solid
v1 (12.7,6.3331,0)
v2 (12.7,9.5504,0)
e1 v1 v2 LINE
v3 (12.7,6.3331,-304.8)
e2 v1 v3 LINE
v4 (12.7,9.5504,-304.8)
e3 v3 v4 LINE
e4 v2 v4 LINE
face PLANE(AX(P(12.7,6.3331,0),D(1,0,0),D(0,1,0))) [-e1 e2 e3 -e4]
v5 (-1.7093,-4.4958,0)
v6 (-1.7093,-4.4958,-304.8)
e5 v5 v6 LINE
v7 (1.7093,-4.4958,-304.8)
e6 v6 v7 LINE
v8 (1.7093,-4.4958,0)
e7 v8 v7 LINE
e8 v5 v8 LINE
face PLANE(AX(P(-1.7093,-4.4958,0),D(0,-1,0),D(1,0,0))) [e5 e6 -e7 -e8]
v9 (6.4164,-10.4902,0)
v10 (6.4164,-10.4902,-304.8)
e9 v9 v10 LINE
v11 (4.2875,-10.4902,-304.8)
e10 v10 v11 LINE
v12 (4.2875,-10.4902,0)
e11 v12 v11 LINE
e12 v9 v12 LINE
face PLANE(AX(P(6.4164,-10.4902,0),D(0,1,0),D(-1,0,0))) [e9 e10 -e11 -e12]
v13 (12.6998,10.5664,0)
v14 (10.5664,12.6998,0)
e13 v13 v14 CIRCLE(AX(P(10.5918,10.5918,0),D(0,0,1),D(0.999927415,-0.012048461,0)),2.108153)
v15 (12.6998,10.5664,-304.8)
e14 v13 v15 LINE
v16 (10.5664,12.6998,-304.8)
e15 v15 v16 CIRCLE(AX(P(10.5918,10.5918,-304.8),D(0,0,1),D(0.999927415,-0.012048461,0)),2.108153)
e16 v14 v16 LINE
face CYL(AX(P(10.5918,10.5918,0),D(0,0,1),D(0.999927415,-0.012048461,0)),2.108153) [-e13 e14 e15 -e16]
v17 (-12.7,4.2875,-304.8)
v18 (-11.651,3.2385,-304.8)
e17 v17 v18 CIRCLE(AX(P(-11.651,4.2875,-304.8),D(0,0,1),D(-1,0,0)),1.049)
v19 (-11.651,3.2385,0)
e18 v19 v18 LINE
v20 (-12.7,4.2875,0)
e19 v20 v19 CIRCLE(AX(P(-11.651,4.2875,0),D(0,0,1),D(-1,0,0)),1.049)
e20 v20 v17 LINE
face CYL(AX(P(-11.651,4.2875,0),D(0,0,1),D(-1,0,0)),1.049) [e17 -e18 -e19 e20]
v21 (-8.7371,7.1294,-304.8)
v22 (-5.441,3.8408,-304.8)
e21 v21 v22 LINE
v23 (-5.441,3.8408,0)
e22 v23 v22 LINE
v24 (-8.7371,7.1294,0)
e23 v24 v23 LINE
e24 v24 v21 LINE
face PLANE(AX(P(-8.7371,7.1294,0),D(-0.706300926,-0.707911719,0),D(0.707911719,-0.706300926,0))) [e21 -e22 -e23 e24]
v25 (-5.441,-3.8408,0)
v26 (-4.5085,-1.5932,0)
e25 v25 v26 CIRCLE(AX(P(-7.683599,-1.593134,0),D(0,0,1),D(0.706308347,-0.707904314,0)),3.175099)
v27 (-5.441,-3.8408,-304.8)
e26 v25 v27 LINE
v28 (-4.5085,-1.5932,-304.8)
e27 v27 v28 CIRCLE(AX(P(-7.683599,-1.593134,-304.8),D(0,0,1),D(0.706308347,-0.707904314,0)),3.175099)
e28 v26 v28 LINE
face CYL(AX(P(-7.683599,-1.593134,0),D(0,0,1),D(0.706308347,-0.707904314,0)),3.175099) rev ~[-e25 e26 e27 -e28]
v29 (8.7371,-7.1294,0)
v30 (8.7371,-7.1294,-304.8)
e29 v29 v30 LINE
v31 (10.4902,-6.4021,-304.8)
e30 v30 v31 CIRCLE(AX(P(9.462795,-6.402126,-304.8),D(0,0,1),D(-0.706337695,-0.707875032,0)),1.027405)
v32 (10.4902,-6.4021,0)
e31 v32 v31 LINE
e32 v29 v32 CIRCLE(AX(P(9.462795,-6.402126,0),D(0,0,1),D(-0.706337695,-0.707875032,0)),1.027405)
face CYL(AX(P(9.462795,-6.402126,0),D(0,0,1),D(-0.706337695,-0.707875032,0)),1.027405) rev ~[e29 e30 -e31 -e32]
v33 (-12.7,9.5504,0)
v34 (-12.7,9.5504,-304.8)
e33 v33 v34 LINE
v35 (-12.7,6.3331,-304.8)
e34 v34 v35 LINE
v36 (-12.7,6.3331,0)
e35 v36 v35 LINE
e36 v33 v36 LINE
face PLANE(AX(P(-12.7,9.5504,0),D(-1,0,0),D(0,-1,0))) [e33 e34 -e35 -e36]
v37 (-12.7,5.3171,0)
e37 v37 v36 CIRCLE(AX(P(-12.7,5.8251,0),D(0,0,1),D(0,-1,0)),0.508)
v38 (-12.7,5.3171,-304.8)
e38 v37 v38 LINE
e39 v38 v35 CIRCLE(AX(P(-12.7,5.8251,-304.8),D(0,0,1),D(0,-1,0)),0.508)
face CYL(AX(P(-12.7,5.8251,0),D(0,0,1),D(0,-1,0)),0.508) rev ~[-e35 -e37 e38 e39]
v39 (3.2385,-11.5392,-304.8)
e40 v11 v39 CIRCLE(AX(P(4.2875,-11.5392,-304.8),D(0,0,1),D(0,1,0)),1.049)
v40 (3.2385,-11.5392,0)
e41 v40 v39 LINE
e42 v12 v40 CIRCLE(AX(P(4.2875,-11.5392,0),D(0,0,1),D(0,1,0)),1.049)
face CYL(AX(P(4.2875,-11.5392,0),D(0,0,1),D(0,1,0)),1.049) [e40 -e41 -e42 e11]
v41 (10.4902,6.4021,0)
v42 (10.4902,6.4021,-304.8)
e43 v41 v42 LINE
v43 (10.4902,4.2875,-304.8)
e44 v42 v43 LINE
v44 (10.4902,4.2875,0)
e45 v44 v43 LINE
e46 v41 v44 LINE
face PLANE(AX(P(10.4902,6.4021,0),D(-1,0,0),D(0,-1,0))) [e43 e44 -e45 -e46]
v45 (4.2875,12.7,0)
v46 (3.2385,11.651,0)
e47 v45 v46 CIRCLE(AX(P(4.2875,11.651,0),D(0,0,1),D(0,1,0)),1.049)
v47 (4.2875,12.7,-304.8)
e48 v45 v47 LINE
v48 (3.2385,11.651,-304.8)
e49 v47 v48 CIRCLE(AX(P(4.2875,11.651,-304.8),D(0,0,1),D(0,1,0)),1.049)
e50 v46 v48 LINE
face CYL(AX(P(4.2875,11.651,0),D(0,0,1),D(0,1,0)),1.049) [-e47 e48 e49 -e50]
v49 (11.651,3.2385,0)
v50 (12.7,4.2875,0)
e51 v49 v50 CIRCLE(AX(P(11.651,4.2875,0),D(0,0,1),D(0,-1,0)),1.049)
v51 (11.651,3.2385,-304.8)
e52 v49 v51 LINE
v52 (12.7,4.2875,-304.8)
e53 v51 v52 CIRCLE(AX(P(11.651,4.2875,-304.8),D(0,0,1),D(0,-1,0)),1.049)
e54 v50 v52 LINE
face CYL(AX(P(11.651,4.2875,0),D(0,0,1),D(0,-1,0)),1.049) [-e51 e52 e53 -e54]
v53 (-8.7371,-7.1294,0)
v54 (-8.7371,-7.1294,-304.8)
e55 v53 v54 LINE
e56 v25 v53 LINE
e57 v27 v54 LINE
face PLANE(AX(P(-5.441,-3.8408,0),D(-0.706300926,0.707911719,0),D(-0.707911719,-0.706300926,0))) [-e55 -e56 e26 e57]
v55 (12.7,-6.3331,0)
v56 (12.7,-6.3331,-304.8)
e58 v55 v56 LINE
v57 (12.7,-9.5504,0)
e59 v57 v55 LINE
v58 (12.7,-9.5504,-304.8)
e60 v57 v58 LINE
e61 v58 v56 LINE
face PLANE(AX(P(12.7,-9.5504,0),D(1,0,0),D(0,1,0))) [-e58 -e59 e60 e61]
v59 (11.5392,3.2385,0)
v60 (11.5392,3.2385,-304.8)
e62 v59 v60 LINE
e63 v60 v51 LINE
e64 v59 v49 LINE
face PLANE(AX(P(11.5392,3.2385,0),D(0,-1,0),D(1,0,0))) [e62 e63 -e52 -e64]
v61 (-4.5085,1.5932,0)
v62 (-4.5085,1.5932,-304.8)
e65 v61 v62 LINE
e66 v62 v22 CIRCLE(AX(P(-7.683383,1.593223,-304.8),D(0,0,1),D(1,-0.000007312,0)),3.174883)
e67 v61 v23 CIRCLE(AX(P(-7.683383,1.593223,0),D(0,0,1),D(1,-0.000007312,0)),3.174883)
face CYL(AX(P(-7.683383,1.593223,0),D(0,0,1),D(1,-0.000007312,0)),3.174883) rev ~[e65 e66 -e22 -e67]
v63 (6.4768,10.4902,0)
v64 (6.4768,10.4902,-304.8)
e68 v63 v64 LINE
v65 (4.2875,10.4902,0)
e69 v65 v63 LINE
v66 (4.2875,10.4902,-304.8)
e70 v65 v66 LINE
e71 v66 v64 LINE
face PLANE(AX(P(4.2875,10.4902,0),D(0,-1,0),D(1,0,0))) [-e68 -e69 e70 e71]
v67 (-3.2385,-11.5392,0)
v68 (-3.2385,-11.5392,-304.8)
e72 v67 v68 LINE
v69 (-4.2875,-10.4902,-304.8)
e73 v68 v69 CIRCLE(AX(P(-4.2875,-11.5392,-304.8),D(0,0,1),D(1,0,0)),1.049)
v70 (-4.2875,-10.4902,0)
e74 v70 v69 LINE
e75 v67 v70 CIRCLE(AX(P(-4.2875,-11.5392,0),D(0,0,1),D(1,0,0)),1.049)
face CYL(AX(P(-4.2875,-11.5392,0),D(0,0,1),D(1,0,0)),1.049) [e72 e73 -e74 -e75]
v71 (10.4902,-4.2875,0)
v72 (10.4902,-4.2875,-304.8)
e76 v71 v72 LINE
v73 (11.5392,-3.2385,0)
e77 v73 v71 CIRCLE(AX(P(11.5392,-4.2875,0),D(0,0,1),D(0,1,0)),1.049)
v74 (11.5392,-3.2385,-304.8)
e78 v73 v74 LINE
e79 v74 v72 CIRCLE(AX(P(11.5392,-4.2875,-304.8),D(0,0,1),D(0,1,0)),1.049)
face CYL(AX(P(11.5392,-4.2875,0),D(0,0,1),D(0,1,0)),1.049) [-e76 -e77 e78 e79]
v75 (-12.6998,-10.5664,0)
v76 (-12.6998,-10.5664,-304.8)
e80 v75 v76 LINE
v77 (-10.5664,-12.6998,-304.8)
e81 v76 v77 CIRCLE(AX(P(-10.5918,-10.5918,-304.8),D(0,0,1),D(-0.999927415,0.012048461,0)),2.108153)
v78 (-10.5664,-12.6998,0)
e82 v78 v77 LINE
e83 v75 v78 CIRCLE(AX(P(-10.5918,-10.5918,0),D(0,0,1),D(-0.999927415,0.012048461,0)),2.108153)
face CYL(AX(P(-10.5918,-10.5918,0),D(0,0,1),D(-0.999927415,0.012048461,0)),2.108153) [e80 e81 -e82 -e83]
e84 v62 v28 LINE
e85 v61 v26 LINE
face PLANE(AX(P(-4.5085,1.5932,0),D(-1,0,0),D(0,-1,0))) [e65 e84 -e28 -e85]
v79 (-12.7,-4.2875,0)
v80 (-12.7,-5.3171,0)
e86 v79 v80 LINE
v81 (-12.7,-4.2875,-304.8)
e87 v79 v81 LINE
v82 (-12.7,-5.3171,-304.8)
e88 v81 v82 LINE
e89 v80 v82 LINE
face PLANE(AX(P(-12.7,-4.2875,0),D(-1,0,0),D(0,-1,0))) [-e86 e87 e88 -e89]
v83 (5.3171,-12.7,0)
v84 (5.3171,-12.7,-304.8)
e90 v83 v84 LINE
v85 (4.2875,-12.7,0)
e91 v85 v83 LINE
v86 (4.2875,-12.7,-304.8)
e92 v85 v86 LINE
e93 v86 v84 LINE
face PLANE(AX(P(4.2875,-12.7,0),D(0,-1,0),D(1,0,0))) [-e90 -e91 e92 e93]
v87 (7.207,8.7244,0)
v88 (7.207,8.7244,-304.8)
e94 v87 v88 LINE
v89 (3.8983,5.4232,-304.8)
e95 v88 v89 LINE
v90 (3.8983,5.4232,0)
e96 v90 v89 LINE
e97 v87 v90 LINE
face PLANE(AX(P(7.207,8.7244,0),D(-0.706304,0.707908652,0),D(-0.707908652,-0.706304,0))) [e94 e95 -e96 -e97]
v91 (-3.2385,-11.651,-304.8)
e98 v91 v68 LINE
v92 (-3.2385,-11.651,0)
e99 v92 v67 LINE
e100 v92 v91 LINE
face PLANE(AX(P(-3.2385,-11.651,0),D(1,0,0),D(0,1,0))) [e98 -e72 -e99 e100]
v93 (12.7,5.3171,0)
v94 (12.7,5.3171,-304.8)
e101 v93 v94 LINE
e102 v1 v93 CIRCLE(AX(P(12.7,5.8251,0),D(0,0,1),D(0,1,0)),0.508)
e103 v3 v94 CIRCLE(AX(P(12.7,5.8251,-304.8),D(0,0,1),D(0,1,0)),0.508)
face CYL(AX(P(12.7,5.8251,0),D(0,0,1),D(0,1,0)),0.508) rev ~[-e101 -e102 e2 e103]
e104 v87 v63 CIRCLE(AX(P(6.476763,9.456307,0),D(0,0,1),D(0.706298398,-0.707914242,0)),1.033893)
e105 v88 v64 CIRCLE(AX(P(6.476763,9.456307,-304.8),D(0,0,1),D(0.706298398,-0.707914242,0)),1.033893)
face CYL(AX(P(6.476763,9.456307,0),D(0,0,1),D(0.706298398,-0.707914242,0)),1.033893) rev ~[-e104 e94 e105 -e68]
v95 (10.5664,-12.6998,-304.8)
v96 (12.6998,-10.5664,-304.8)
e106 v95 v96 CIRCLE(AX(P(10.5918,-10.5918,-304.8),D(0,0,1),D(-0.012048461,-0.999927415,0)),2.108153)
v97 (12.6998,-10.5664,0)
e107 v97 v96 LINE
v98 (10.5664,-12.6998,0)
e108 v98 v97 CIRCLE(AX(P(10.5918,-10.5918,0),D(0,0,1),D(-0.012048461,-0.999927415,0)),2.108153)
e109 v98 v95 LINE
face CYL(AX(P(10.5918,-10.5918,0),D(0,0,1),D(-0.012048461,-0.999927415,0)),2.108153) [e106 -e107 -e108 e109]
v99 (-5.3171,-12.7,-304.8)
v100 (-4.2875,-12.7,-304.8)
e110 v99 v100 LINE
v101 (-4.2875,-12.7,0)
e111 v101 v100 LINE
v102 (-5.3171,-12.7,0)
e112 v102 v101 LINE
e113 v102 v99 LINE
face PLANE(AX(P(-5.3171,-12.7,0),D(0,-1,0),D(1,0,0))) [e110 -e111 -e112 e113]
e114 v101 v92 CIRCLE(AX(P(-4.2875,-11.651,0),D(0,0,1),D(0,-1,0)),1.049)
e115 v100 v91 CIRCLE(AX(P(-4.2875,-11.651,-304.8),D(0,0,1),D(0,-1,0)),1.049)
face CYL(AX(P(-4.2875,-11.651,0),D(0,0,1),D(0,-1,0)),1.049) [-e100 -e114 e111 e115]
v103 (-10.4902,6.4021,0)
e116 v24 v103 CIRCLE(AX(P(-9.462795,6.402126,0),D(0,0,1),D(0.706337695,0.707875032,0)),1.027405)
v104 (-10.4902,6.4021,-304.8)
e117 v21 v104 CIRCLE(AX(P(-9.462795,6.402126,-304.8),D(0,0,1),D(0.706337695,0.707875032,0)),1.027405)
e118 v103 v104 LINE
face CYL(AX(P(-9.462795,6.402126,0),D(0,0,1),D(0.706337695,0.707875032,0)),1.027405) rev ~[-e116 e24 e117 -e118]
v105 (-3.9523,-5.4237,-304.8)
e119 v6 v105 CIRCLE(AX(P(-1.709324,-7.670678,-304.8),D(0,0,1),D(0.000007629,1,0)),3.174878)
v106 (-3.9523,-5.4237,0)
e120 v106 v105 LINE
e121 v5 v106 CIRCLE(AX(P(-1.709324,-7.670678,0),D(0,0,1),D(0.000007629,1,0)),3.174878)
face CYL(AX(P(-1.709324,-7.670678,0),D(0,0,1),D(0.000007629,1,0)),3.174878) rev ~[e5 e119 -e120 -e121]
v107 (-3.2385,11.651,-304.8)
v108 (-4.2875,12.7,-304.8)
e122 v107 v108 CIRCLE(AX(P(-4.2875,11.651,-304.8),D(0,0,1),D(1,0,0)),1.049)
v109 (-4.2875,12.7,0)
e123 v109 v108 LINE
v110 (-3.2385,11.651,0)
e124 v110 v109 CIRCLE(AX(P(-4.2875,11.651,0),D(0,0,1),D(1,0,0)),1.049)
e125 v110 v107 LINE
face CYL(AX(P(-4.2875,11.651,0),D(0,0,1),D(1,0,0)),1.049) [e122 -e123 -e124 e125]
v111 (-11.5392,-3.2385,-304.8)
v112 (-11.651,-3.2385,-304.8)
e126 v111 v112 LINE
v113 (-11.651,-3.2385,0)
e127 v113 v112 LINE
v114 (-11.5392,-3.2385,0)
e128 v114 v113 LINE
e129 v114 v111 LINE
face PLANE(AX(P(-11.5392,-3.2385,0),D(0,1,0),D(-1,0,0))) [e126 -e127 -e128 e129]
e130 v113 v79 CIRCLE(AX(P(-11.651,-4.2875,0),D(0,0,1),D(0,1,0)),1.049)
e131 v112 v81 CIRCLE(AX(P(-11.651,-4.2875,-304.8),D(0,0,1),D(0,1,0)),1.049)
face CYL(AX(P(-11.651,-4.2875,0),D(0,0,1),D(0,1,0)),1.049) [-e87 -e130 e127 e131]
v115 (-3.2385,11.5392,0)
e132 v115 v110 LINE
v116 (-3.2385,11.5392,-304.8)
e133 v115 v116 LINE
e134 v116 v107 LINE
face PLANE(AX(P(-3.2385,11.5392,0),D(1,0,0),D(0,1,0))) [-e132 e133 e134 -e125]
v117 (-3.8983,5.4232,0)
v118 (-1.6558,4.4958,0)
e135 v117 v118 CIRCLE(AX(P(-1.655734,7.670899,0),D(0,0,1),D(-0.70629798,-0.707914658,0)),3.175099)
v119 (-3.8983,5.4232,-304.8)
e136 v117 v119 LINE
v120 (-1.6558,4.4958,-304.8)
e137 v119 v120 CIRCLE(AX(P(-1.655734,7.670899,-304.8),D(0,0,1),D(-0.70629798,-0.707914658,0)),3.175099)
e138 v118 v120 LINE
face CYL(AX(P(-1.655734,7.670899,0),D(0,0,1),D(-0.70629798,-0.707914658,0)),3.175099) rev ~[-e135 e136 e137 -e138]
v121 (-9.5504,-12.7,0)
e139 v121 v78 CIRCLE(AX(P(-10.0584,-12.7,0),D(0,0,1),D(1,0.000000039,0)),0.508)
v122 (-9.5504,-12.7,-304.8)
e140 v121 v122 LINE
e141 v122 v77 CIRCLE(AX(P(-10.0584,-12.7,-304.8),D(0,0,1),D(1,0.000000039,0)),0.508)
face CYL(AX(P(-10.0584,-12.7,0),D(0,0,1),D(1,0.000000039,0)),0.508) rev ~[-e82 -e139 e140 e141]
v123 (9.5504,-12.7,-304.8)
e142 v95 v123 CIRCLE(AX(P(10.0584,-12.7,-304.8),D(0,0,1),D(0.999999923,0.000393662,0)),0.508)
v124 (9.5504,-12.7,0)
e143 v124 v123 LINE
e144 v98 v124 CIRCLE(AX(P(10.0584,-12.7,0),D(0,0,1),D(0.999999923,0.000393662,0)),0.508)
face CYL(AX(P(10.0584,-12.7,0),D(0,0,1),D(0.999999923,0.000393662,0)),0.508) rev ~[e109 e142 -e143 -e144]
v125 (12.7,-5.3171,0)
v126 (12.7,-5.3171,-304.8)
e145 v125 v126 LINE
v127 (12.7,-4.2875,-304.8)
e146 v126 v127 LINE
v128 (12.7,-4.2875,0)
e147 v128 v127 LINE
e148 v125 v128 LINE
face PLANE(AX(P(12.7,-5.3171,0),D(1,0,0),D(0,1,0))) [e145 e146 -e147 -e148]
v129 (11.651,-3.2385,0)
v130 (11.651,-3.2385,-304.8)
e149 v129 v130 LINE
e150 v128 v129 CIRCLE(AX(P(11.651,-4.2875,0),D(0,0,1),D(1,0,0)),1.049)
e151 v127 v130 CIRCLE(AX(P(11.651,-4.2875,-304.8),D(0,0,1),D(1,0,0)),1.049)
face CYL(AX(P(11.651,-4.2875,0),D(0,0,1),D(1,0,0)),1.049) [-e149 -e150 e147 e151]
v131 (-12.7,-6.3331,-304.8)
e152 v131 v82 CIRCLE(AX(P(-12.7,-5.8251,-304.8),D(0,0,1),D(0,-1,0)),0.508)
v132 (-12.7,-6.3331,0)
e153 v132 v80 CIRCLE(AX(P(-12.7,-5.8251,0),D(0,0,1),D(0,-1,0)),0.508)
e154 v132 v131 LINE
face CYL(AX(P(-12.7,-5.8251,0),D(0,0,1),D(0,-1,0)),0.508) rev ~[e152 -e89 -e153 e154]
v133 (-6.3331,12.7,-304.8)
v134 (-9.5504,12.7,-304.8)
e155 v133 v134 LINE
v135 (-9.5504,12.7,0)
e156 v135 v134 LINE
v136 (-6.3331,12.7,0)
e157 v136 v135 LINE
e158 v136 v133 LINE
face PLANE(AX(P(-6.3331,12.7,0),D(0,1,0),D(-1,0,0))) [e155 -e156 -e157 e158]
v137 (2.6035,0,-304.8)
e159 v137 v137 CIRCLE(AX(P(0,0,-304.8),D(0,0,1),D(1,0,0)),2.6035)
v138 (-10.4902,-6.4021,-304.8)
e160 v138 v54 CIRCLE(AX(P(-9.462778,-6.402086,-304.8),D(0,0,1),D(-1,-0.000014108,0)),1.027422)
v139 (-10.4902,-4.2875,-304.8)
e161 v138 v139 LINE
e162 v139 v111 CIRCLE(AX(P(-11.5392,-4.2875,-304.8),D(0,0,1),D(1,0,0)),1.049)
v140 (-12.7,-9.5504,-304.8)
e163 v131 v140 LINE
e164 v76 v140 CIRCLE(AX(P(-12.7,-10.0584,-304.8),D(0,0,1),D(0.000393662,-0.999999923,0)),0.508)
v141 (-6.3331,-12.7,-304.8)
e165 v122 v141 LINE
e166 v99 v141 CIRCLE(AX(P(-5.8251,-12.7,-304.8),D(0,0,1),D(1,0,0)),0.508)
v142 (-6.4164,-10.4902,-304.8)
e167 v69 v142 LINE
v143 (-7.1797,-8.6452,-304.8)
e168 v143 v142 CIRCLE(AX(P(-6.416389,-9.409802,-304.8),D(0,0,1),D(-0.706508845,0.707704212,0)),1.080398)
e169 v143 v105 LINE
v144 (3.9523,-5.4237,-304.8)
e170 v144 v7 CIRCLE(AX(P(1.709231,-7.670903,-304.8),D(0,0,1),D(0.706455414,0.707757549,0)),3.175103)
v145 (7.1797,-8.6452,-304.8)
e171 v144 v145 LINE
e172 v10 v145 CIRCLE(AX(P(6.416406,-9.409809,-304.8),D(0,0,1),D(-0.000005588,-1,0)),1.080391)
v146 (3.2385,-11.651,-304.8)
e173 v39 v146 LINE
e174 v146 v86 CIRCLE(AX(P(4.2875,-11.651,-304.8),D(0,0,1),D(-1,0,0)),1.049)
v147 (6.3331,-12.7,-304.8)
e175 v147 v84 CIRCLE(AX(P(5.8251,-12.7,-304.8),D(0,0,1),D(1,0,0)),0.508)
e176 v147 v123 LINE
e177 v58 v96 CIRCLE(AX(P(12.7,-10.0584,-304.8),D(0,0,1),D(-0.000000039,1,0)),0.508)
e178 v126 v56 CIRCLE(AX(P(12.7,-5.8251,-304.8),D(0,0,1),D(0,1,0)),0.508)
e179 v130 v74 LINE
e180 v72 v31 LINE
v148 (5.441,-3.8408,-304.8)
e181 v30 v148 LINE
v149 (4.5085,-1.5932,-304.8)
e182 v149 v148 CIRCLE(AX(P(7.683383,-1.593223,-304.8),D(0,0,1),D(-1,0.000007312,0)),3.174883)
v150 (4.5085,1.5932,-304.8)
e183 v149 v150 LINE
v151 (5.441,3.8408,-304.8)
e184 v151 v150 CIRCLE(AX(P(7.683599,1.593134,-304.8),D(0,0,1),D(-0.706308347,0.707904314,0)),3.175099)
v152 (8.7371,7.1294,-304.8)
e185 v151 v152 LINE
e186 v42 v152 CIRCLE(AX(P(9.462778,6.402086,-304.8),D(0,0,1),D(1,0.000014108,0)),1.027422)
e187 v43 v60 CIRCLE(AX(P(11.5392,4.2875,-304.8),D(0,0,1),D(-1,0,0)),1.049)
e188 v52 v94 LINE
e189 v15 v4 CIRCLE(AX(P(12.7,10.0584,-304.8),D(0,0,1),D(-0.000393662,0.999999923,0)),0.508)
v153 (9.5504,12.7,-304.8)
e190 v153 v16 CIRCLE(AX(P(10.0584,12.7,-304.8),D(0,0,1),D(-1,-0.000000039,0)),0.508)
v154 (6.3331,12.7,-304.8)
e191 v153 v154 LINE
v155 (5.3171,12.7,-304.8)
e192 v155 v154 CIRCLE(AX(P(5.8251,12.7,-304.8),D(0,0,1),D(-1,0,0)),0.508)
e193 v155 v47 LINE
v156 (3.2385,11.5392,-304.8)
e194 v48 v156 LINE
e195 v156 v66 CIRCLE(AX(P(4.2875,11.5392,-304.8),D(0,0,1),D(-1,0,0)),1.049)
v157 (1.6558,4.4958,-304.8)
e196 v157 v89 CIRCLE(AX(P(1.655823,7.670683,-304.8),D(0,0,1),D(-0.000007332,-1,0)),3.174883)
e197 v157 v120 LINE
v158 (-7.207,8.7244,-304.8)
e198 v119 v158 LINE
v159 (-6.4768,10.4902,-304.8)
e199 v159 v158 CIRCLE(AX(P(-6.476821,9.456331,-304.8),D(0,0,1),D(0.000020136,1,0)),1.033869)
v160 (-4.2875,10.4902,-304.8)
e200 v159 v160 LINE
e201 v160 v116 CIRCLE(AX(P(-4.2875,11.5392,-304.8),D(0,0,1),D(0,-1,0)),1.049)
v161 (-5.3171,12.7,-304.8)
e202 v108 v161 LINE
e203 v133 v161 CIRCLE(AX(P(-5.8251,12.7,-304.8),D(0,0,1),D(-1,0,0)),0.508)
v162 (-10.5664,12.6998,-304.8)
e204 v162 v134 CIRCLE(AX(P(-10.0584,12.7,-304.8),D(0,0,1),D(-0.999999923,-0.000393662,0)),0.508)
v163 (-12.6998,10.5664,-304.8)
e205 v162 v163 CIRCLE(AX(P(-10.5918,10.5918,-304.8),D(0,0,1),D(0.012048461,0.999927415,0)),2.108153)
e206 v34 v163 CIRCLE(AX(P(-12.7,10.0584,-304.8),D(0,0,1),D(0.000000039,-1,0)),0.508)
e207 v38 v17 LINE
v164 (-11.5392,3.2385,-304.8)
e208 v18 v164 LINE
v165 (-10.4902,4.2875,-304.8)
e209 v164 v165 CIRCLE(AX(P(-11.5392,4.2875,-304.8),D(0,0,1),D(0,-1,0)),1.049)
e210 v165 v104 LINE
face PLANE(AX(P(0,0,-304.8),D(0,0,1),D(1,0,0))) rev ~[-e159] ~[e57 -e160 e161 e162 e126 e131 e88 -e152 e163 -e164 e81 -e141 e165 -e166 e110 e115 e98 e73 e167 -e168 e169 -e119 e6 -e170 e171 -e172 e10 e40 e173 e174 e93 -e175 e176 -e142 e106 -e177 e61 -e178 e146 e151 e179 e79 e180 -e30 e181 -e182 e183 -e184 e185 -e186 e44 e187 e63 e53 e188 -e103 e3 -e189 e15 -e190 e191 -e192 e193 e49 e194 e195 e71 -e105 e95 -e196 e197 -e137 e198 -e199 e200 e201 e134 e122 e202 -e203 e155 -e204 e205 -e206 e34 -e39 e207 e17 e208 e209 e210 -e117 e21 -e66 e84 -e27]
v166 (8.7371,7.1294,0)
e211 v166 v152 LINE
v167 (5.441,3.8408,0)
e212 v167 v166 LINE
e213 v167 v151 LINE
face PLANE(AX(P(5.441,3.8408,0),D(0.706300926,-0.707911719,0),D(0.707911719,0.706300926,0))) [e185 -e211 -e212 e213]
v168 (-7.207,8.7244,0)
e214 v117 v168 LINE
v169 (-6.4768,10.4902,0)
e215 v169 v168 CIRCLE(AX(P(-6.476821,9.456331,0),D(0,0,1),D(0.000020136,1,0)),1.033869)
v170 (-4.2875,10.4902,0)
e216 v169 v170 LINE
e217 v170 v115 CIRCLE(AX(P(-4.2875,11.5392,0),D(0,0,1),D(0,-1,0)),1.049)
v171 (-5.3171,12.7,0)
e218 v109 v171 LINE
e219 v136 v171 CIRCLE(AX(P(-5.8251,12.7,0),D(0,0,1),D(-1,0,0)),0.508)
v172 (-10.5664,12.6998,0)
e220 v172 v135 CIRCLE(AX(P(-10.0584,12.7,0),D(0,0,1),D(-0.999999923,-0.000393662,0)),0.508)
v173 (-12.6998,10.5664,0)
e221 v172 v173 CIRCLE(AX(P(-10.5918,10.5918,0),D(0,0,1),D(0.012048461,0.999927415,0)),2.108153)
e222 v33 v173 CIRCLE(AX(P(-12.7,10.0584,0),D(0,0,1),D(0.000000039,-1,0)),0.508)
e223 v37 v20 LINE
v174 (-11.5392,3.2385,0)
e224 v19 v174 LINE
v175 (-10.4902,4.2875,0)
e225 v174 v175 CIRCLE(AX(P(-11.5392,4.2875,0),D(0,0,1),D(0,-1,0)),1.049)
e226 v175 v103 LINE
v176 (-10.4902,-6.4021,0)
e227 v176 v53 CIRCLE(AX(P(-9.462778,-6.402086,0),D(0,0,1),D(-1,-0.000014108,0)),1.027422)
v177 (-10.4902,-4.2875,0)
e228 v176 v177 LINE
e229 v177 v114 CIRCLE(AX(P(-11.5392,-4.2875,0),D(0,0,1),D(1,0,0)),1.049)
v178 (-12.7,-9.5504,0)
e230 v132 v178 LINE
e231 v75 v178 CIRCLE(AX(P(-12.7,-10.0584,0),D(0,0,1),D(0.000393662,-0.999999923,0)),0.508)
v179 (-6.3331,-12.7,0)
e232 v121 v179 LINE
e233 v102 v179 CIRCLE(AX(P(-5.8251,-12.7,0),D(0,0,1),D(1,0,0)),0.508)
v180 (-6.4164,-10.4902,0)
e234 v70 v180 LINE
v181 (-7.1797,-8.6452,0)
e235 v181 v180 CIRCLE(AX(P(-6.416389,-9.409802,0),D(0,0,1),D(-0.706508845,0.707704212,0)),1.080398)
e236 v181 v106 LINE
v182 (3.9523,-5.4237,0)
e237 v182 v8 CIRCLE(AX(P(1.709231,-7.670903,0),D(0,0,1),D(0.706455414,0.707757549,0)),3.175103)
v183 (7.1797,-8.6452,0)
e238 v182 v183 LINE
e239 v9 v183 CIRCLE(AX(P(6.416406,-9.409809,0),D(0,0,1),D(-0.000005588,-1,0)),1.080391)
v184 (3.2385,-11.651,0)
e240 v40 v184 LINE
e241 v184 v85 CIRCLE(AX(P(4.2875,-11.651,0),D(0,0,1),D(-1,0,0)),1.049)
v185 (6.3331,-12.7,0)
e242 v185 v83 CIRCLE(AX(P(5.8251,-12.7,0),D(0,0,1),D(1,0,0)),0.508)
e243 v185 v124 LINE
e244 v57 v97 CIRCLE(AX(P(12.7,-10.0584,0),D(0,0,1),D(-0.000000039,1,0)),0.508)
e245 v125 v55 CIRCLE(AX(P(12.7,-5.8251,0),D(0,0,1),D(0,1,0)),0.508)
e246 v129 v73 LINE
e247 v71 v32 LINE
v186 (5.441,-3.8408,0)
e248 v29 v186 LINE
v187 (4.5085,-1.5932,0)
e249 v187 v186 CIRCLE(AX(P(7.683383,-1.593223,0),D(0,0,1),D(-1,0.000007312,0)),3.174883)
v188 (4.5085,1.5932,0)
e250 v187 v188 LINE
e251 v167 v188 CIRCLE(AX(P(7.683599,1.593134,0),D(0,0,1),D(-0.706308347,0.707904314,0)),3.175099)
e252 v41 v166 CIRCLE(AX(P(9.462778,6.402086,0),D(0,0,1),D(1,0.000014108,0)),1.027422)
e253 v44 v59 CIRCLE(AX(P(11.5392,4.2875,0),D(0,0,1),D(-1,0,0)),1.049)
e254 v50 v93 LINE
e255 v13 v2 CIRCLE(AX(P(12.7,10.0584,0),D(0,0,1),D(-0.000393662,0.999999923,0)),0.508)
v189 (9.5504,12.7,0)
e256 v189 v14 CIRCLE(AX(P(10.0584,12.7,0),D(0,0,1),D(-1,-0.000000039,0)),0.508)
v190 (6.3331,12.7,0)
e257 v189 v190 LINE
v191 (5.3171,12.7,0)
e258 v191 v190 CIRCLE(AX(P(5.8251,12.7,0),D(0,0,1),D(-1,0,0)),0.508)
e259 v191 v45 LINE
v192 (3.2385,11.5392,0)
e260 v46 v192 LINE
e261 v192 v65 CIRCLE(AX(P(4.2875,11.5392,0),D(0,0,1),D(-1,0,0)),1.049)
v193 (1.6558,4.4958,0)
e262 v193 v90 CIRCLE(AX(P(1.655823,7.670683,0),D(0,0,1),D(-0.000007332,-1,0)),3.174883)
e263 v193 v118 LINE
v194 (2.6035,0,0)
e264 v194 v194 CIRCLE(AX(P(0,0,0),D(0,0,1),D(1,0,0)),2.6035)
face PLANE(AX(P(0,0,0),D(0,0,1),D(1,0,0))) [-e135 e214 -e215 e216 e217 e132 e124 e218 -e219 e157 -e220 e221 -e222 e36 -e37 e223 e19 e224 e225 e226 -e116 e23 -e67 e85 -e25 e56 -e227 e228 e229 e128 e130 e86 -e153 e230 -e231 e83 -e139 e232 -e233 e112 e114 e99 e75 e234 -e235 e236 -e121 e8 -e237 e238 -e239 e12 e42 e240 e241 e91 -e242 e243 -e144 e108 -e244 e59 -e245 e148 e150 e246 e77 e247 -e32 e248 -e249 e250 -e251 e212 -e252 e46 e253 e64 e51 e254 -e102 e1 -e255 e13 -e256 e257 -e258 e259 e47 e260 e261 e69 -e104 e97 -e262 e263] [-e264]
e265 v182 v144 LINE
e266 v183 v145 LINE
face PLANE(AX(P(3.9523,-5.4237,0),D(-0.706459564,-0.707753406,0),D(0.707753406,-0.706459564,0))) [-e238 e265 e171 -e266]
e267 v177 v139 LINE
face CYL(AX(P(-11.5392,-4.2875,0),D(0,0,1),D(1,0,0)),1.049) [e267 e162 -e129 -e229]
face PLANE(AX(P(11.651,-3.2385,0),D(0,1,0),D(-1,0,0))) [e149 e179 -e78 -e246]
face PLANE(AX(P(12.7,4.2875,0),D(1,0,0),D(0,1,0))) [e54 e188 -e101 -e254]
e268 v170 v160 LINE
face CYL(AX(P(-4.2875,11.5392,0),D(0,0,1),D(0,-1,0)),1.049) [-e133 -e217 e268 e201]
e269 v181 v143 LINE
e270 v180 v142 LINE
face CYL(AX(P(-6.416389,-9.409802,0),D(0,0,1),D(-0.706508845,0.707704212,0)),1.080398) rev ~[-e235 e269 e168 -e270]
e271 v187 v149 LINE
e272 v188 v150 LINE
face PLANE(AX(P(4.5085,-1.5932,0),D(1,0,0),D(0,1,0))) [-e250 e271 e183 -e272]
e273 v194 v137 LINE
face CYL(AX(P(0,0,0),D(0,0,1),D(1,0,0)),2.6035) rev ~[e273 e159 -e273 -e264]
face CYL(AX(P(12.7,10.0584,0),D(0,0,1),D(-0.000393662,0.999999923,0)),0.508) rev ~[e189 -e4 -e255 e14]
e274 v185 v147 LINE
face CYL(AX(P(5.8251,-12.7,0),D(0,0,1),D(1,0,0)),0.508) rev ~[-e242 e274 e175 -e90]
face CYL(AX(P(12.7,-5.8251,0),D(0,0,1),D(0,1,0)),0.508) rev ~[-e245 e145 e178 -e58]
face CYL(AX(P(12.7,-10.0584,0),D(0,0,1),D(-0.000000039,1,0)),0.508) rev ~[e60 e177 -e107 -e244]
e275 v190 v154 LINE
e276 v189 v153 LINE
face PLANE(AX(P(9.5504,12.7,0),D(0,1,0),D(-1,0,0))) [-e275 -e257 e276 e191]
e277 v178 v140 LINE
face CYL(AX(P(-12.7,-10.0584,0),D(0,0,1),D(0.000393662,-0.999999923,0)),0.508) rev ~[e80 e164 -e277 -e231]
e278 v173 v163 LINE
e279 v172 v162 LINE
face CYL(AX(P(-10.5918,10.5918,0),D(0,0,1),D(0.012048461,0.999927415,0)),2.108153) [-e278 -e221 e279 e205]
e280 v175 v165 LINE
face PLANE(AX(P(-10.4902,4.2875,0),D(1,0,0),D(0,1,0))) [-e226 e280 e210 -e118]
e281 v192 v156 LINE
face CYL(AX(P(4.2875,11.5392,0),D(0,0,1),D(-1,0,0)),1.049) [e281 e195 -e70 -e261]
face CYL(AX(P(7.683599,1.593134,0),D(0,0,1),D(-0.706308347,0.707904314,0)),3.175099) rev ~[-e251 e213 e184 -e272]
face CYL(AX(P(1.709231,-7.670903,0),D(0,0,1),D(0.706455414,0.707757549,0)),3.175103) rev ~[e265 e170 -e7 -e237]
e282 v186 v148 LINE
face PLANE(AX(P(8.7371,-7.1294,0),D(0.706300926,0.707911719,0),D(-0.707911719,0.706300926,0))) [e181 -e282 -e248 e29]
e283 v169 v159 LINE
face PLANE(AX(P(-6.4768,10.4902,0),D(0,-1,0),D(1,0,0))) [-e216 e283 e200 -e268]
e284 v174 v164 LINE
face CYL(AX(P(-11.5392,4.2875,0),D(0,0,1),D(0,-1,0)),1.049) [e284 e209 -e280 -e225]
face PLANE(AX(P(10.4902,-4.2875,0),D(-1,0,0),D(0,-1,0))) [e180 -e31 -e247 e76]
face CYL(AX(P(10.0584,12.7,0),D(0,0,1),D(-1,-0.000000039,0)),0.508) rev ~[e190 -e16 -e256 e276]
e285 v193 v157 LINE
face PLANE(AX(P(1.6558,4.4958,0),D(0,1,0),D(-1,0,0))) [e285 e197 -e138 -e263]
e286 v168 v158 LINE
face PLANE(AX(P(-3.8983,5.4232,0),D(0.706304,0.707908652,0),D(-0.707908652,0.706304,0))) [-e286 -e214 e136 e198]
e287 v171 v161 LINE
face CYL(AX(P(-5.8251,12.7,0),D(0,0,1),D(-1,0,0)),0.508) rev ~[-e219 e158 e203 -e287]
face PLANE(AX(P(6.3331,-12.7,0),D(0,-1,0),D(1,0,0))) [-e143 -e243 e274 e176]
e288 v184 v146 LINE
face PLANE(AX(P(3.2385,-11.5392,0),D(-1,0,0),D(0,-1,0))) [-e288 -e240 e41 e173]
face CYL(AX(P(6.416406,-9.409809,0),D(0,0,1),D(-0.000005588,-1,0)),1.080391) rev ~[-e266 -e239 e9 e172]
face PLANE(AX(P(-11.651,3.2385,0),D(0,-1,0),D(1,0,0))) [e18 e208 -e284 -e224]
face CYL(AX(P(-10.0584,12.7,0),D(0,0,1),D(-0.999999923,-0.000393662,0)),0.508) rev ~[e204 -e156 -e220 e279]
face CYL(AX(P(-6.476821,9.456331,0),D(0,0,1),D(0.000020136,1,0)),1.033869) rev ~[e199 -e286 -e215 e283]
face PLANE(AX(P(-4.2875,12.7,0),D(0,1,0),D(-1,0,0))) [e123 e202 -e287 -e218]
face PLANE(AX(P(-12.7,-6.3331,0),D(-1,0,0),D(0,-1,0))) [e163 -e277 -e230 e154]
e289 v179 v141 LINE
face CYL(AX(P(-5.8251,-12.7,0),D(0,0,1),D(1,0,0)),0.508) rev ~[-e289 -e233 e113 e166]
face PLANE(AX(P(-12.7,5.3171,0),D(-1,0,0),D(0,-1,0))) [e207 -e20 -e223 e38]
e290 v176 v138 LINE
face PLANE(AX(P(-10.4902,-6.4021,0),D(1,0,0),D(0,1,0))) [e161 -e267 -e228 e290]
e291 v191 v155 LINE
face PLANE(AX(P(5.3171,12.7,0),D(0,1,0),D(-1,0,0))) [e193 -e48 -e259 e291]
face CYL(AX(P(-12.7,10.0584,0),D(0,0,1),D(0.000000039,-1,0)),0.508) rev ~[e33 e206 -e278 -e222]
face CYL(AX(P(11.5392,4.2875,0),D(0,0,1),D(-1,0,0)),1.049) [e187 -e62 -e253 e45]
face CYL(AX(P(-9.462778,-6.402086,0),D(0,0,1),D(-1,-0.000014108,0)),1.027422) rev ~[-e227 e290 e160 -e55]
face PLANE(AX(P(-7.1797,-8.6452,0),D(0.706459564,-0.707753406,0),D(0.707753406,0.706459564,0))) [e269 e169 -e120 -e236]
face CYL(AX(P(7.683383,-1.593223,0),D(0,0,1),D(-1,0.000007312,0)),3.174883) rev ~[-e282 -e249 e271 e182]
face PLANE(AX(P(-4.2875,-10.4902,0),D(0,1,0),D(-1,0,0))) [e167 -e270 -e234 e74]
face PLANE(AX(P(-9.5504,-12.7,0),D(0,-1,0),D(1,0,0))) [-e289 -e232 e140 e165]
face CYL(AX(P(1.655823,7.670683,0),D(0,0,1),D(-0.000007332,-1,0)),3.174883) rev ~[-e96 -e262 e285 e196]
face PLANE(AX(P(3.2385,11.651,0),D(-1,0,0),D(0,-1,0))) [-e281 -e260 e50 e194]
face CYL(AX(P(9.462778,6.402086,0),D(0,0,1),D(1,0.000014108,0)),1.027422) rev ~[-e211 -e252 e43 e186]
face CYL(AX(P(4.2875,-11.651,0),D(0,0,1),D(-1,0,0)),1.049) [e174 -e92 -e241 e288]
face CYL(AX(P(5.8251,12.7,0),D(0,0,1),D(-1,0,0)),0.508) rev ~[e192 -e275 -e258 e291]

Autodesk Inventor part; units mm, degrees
ref_plane "YZ Plane" through (0, 0, 0) normal (1, 0, 0) x (0, 1, 0)
ref_plane "XZ Plane" through (0, 0, 0) normal (0, 1, 0) x (-1, 0, 0)
ref_plane "XY Plane" through (0, 0, 0) normal (0, 0, 1) x (1, 0, 0)
sketch "Sketch1" plane through (0, 0, 0) normal (0, 0, 1) x (1, 0, 0)
  circle A0 centre (0, 0) radius 2.6035
  arc A1 (-1.7093, -4.4958) -> (-3.9523, -5.4237) centre (-1.7093, -7.6708) ccw
  line L0 (-1.7093, -4.4958) -> (1.7093, -4.4958)
  arc A2 (3.9523, -5.4237) -> (1.7093, -4.4958) centre (1.7093, -7.6708) ccw
  line L1 (3.9523, -5.4237) -> (7.1797, -8.6452)
  arc A3 (6.4164, -10.4902) -> (7.1797, -8.6452) centre (6.4164, -9.4098) ccw
  line L2 (6.4164, -10.4902) -> (4.2875, -10.4902)
  arc A4 (4.2875, -10.4902) -> (3.2385, -11.5392) centre (4.2875, -11.5392) ccw
  line L3 (3.2385, -11.5392) -> (3.2385, -11.651)
  arc A5 (3.2385, -11.651) -> (4.2875, -12.7) centre (4.2875, -11.651) ccw
  line L4 (4.2875, -12.7) -> (5.3171, -12.7)
  arc A6 (6.3331, -12.7) -> (5.3171, -12.7) centre (5.8251, -12.7) ccw
  line L5 (6.3331, -12.7) -> (9.5504, -12.7)
  arc A7 (10.5664, -12.6998) -> (9.5504, -12.7) centre (10.0584, -12.7) ccw
  arc A8 (10.5664, -12.6998) -> (12.6998, -10.5664) centre (10.5918, -10.5918) ccw
  arc A9 (12.7, -9.5504) -> (12.6998, -10.5664) centre (12.7, -10.0584) ccw
  line L6 (12.7, -9.5504) -> (12.7, -6.3331)
  arc A10 (12.7, -5.3171) -> (12.7, -6.3331) centre (12.7, -5.8251) ccw
  line L7 (12.7, -5.3171) -> (12.7, -4.2875)
  arc A11 (12.7, -4.2875) -> (11.651, -3.2385) centre (11.651, -4.2875) ccw
  line L8 (11.651, -3.2385) -> (11.5392, -3.2385)
  arc A12 (11.5392, -3.2385) -> (10.4902, -4.2875) centre (11.5392, -4.2875) ccw
  line L9 (10.4902, -4.2875) -> (10.4902, -6.4021)
  arc A13 (8.7371, -7.1294) -> (10.4902, -6.4021) centre (9.4628, -6.4021) ccw
  line L10 (8.7371, -7.1294) -> (5.441, -3.8408)
  arc A14 (4.5085, -1.5932) -> (5.441, -3.8408) centre (7.6835, -1.5932) ccw
  line L11 (4.5085, -1.5932) -> (4.5085, 1.5932)
  arc A15 (5.441, 3.8408) -> (4.5085, 1.5932) centre (7.6835, 1.5932) ccw
  line L12 (5.441, 3.8408) -> (8.7371, 7.1294)
  arc A16 (10.4902, 6.4021) -> (8.7371, 7.1294) centre (9.4628, 6.4021) ccw
  line L13 (10.4902, 6.4021) -> (10.4902, 4.2875)
  arc A17 (10.4902, 4.2875) -> (11.5392, 3.2385) centre (11.5392, 4.2875) ccw
  line L14 (11.5392, 3.2385) -> (11.651, 3.2385)
  arc A18 (11.651, 3.2385) -> (12.7, 4.2875) centre (11.651, 4.2875) ccw
  line L15 (12.7, 4.2875) -> (12.7, 5.3171)
  arc A19 (12.7, 6.3331) -> (12.7, 5.3171) centre (12.7, 5.8251) ccw
  line L16 (12.7, 6.3331) -> (12.7, 9.5504)
  arc A20 (12.6998, 10.5664) -> (12.7, 9.5504) centre (12.7, 10.0584) ccw
  arc A21 (12.6998, 10.5664) -> (10.5664, 12.6998) centre (10.5918, 10.5918) ccw
  arc A22 (9.5504, 12.7) -> (10.5664, 12.6998) centre (10.0584, 12.7) ccw
  line L17 (9.5504, 12.7) -> (6.3331, 12.7)
  arc A23 (5.3171, 12.7) -> (6.3331, 12.7) centre (5.8251, 12.7) ccw
  line L18 (5.3171, 12.7) -> (4.2875, 12.7)
  arc A24 (4.2875, 12.7) -> (3.2385, 11.651) centre (4.2875, 11.651) ccw
  line L19 (3.2385, 11.651) -> (3.2385, 11.5392)
  arc A25 (3.2385, 11.5392) -> (4.2875, 10.4902) centre (4.2875, 11.5392) ccw
  line L20 (4.2875, 10.4902) -> (6.4768, 10.4902)
  arc A26 (7.207, 8.7244) -> (6.4768, 10.4902) centre (6.4768, 9.4563) ccw
  line L21 (7.207, 8.7244) -> (3.8983, 5.4232)
  arc A27 (1.6558, 4.4958) -> (3.8983, 5.4232) centre (1.6558, 7.6708) ccw
  line L22 (1.6558, 4.4958) -> (-1.6558, 4.4958)
  arc A28 (-3.8983, 5.4232) -> (-1.6558, 4.4958) centre (-1.6558, 7.6708) ccw
  line L23 (-3.8983, 5.4232) -> (-7.207, 8.7244)
  arc A29 (-6.4768, 10.4902) -> (-7.207, 8.7244) centre (-6.4768, 9.4563) ccw
  line L24 (-6.4768, 10.4902) -> (-4.2875, 10.4902)
  arc A30 (-4.2875, 10.4902) -> (-3.2385, 11.5392) centre (-4.2875, 11.5392) ccw
  line L25 (-3.2385, 11.5392) -> (-3.2385, 11.651)
  arc A31 (-3.2385, 11.651) -> (-4.2875, 12.7) centre (-4.2875, 11.651) ccw
  line L26 (-4.2875, 12.7) -> (-5.3171, 12.7)
  arc A32 (-6.3331, 12.7) -> (-5.3171, 12.7) centre (-5.8251, 12.7) ccw
  line L27 (-6.3331, 12.7) -> (-9.5504, 12.7)
  arc A33 (-10.5664, 12.6998) -> (-9.5504, 12.7) centre (-10.0584, 12.7) ccw
  arc A34 (-10.5664, 12.6998) -> (-12.6998, 10.5664) centre (-10.5918, 10.5918) ccw
  arc A35 (-12.7, 9.5504) -> (-12.6998, 10.5664) centre (-12.7, 10.0584) ccw
  line L28 (-12.7, 9.5504) -> (-12.7, 6.3331)
  arc A36 (-12.7, 5.3171) -> (-12.7, 6.3331) centre (-12.7, 5.8251) ccw
  line L29 (-12.7, 5.3171) -> (-12.7, 4.2875)
  arc A37 (-12.7, 4.2875) -> (-11.651, 3.2385) centre (-11.651, 4.2875) ccw
  line L30 (-11.651, 3.2385) -> (-11.5392, 3.2385)
  arc A38 (-11.5392, 3.2385) -> (-10.4902, 4.2875) centre (-11.5392, 4.2875) ccw
  line L31 (-10.4902, 4.2875) -> (-10.4902, 6.4021)
  arc A39 (-8.7371, 7.1294) -> (-10.4902, 6.4021) centre (-9.4628, 6.4021) ccw
  line L32 (-8.7371, 7.1294) -> (-5.441, 3.8408)
  arc A40 (-4.5085, 1.5932) -> (-5.441, 3.8408) centre (-7.6835, 1.5932) ccw
  line L33 (-4.5085, 1.5932) -> (-4.5085, -1.5932)
  arc A41 (-5.441, -3.8408) -> (-4.5085, -1.5932) centre (-7.6835, -1.5932) ccw
  line L34 (-5.441, -3.8408) -> (-8.7371, -7.1294)
  arc A42 (-10.4902, -6.4021) -> (-8.7371, -7.1294) centre (-9.4628, -6.4021) ccw
  line L35 (-10.4902, -6.4021) -> (-10.4902, -4.2875)
  arc A43 (-10.4902, -4.2875) -> (-11.5392, -3.2385) centre (-11.5392, -4.2875) ccw
  line L36 (-11.5392, -3.2385) -> (-11.651, -3.2385)
  arc A44 (-11.651, -3.2385) -> (-12.7, -4.2875) centre (-11.651, -4.2875) ccw
  line L37 (-12.7, -4.2875) -> (-12.7, -5.3171)
  arc A45 (-12.7, -6.3331) -> (-12.7, -5.3171) centre (-12.7, -5.8251) ccw
  line L38 (-12.7, -6.3331) -> (-12.7, -9.5504)
  arc A46 (-12.6998, -10.5664) -> (-12.7, -9.5504) centre (-12.7, -10.0584) ccw
  arc A47 (-12.6998, -10.5664) -> (-10.5664, -12.6998) centre (-10.5918, -10.5918) ccw
  arc A48 (-9.5504, -12.7) -> (-10.5664, -12.6998) centre (-10.0584, -12.7) ccw
  line L39 (-9.5504, -12.7) -> (-6.3331, -12.7)
  arc A49 (-5.3171, -12.7) -> (-6.3331, -12.7) centre (-5.8251, -12.7) ccw
  line L40 (-5.3171, -12.7) -> (-4.2875, -12.7)
  arc A50 (-4.2875, -12.7) -> (-3.2385, -11.651) centre (-4.2875, -11.651) ccw
  line L41 (-3.2385, -11.651) -> (-3.2385, -11.5392)
  arc A51 (-3.2385, -11.5392) -> (-4.2875, -10.4902) centre (-4.2875, -11.5392) ccw
  line L42 (-4.2875, -10.4902) -> (-6.4164, -10.4902)
  arc A52 (-7.1797, -8.6452) -> (-6.4164, -10.4902) centre (-6.4164, -9.4098) ccw
  line L43 (-7.1797, -8.6452) -> (-3.9523, -5.4237)
extrude "Extrusion1" add sketch "Sketch1" against normal blind 304.8
properties part number "1010-BLACK-FB"
